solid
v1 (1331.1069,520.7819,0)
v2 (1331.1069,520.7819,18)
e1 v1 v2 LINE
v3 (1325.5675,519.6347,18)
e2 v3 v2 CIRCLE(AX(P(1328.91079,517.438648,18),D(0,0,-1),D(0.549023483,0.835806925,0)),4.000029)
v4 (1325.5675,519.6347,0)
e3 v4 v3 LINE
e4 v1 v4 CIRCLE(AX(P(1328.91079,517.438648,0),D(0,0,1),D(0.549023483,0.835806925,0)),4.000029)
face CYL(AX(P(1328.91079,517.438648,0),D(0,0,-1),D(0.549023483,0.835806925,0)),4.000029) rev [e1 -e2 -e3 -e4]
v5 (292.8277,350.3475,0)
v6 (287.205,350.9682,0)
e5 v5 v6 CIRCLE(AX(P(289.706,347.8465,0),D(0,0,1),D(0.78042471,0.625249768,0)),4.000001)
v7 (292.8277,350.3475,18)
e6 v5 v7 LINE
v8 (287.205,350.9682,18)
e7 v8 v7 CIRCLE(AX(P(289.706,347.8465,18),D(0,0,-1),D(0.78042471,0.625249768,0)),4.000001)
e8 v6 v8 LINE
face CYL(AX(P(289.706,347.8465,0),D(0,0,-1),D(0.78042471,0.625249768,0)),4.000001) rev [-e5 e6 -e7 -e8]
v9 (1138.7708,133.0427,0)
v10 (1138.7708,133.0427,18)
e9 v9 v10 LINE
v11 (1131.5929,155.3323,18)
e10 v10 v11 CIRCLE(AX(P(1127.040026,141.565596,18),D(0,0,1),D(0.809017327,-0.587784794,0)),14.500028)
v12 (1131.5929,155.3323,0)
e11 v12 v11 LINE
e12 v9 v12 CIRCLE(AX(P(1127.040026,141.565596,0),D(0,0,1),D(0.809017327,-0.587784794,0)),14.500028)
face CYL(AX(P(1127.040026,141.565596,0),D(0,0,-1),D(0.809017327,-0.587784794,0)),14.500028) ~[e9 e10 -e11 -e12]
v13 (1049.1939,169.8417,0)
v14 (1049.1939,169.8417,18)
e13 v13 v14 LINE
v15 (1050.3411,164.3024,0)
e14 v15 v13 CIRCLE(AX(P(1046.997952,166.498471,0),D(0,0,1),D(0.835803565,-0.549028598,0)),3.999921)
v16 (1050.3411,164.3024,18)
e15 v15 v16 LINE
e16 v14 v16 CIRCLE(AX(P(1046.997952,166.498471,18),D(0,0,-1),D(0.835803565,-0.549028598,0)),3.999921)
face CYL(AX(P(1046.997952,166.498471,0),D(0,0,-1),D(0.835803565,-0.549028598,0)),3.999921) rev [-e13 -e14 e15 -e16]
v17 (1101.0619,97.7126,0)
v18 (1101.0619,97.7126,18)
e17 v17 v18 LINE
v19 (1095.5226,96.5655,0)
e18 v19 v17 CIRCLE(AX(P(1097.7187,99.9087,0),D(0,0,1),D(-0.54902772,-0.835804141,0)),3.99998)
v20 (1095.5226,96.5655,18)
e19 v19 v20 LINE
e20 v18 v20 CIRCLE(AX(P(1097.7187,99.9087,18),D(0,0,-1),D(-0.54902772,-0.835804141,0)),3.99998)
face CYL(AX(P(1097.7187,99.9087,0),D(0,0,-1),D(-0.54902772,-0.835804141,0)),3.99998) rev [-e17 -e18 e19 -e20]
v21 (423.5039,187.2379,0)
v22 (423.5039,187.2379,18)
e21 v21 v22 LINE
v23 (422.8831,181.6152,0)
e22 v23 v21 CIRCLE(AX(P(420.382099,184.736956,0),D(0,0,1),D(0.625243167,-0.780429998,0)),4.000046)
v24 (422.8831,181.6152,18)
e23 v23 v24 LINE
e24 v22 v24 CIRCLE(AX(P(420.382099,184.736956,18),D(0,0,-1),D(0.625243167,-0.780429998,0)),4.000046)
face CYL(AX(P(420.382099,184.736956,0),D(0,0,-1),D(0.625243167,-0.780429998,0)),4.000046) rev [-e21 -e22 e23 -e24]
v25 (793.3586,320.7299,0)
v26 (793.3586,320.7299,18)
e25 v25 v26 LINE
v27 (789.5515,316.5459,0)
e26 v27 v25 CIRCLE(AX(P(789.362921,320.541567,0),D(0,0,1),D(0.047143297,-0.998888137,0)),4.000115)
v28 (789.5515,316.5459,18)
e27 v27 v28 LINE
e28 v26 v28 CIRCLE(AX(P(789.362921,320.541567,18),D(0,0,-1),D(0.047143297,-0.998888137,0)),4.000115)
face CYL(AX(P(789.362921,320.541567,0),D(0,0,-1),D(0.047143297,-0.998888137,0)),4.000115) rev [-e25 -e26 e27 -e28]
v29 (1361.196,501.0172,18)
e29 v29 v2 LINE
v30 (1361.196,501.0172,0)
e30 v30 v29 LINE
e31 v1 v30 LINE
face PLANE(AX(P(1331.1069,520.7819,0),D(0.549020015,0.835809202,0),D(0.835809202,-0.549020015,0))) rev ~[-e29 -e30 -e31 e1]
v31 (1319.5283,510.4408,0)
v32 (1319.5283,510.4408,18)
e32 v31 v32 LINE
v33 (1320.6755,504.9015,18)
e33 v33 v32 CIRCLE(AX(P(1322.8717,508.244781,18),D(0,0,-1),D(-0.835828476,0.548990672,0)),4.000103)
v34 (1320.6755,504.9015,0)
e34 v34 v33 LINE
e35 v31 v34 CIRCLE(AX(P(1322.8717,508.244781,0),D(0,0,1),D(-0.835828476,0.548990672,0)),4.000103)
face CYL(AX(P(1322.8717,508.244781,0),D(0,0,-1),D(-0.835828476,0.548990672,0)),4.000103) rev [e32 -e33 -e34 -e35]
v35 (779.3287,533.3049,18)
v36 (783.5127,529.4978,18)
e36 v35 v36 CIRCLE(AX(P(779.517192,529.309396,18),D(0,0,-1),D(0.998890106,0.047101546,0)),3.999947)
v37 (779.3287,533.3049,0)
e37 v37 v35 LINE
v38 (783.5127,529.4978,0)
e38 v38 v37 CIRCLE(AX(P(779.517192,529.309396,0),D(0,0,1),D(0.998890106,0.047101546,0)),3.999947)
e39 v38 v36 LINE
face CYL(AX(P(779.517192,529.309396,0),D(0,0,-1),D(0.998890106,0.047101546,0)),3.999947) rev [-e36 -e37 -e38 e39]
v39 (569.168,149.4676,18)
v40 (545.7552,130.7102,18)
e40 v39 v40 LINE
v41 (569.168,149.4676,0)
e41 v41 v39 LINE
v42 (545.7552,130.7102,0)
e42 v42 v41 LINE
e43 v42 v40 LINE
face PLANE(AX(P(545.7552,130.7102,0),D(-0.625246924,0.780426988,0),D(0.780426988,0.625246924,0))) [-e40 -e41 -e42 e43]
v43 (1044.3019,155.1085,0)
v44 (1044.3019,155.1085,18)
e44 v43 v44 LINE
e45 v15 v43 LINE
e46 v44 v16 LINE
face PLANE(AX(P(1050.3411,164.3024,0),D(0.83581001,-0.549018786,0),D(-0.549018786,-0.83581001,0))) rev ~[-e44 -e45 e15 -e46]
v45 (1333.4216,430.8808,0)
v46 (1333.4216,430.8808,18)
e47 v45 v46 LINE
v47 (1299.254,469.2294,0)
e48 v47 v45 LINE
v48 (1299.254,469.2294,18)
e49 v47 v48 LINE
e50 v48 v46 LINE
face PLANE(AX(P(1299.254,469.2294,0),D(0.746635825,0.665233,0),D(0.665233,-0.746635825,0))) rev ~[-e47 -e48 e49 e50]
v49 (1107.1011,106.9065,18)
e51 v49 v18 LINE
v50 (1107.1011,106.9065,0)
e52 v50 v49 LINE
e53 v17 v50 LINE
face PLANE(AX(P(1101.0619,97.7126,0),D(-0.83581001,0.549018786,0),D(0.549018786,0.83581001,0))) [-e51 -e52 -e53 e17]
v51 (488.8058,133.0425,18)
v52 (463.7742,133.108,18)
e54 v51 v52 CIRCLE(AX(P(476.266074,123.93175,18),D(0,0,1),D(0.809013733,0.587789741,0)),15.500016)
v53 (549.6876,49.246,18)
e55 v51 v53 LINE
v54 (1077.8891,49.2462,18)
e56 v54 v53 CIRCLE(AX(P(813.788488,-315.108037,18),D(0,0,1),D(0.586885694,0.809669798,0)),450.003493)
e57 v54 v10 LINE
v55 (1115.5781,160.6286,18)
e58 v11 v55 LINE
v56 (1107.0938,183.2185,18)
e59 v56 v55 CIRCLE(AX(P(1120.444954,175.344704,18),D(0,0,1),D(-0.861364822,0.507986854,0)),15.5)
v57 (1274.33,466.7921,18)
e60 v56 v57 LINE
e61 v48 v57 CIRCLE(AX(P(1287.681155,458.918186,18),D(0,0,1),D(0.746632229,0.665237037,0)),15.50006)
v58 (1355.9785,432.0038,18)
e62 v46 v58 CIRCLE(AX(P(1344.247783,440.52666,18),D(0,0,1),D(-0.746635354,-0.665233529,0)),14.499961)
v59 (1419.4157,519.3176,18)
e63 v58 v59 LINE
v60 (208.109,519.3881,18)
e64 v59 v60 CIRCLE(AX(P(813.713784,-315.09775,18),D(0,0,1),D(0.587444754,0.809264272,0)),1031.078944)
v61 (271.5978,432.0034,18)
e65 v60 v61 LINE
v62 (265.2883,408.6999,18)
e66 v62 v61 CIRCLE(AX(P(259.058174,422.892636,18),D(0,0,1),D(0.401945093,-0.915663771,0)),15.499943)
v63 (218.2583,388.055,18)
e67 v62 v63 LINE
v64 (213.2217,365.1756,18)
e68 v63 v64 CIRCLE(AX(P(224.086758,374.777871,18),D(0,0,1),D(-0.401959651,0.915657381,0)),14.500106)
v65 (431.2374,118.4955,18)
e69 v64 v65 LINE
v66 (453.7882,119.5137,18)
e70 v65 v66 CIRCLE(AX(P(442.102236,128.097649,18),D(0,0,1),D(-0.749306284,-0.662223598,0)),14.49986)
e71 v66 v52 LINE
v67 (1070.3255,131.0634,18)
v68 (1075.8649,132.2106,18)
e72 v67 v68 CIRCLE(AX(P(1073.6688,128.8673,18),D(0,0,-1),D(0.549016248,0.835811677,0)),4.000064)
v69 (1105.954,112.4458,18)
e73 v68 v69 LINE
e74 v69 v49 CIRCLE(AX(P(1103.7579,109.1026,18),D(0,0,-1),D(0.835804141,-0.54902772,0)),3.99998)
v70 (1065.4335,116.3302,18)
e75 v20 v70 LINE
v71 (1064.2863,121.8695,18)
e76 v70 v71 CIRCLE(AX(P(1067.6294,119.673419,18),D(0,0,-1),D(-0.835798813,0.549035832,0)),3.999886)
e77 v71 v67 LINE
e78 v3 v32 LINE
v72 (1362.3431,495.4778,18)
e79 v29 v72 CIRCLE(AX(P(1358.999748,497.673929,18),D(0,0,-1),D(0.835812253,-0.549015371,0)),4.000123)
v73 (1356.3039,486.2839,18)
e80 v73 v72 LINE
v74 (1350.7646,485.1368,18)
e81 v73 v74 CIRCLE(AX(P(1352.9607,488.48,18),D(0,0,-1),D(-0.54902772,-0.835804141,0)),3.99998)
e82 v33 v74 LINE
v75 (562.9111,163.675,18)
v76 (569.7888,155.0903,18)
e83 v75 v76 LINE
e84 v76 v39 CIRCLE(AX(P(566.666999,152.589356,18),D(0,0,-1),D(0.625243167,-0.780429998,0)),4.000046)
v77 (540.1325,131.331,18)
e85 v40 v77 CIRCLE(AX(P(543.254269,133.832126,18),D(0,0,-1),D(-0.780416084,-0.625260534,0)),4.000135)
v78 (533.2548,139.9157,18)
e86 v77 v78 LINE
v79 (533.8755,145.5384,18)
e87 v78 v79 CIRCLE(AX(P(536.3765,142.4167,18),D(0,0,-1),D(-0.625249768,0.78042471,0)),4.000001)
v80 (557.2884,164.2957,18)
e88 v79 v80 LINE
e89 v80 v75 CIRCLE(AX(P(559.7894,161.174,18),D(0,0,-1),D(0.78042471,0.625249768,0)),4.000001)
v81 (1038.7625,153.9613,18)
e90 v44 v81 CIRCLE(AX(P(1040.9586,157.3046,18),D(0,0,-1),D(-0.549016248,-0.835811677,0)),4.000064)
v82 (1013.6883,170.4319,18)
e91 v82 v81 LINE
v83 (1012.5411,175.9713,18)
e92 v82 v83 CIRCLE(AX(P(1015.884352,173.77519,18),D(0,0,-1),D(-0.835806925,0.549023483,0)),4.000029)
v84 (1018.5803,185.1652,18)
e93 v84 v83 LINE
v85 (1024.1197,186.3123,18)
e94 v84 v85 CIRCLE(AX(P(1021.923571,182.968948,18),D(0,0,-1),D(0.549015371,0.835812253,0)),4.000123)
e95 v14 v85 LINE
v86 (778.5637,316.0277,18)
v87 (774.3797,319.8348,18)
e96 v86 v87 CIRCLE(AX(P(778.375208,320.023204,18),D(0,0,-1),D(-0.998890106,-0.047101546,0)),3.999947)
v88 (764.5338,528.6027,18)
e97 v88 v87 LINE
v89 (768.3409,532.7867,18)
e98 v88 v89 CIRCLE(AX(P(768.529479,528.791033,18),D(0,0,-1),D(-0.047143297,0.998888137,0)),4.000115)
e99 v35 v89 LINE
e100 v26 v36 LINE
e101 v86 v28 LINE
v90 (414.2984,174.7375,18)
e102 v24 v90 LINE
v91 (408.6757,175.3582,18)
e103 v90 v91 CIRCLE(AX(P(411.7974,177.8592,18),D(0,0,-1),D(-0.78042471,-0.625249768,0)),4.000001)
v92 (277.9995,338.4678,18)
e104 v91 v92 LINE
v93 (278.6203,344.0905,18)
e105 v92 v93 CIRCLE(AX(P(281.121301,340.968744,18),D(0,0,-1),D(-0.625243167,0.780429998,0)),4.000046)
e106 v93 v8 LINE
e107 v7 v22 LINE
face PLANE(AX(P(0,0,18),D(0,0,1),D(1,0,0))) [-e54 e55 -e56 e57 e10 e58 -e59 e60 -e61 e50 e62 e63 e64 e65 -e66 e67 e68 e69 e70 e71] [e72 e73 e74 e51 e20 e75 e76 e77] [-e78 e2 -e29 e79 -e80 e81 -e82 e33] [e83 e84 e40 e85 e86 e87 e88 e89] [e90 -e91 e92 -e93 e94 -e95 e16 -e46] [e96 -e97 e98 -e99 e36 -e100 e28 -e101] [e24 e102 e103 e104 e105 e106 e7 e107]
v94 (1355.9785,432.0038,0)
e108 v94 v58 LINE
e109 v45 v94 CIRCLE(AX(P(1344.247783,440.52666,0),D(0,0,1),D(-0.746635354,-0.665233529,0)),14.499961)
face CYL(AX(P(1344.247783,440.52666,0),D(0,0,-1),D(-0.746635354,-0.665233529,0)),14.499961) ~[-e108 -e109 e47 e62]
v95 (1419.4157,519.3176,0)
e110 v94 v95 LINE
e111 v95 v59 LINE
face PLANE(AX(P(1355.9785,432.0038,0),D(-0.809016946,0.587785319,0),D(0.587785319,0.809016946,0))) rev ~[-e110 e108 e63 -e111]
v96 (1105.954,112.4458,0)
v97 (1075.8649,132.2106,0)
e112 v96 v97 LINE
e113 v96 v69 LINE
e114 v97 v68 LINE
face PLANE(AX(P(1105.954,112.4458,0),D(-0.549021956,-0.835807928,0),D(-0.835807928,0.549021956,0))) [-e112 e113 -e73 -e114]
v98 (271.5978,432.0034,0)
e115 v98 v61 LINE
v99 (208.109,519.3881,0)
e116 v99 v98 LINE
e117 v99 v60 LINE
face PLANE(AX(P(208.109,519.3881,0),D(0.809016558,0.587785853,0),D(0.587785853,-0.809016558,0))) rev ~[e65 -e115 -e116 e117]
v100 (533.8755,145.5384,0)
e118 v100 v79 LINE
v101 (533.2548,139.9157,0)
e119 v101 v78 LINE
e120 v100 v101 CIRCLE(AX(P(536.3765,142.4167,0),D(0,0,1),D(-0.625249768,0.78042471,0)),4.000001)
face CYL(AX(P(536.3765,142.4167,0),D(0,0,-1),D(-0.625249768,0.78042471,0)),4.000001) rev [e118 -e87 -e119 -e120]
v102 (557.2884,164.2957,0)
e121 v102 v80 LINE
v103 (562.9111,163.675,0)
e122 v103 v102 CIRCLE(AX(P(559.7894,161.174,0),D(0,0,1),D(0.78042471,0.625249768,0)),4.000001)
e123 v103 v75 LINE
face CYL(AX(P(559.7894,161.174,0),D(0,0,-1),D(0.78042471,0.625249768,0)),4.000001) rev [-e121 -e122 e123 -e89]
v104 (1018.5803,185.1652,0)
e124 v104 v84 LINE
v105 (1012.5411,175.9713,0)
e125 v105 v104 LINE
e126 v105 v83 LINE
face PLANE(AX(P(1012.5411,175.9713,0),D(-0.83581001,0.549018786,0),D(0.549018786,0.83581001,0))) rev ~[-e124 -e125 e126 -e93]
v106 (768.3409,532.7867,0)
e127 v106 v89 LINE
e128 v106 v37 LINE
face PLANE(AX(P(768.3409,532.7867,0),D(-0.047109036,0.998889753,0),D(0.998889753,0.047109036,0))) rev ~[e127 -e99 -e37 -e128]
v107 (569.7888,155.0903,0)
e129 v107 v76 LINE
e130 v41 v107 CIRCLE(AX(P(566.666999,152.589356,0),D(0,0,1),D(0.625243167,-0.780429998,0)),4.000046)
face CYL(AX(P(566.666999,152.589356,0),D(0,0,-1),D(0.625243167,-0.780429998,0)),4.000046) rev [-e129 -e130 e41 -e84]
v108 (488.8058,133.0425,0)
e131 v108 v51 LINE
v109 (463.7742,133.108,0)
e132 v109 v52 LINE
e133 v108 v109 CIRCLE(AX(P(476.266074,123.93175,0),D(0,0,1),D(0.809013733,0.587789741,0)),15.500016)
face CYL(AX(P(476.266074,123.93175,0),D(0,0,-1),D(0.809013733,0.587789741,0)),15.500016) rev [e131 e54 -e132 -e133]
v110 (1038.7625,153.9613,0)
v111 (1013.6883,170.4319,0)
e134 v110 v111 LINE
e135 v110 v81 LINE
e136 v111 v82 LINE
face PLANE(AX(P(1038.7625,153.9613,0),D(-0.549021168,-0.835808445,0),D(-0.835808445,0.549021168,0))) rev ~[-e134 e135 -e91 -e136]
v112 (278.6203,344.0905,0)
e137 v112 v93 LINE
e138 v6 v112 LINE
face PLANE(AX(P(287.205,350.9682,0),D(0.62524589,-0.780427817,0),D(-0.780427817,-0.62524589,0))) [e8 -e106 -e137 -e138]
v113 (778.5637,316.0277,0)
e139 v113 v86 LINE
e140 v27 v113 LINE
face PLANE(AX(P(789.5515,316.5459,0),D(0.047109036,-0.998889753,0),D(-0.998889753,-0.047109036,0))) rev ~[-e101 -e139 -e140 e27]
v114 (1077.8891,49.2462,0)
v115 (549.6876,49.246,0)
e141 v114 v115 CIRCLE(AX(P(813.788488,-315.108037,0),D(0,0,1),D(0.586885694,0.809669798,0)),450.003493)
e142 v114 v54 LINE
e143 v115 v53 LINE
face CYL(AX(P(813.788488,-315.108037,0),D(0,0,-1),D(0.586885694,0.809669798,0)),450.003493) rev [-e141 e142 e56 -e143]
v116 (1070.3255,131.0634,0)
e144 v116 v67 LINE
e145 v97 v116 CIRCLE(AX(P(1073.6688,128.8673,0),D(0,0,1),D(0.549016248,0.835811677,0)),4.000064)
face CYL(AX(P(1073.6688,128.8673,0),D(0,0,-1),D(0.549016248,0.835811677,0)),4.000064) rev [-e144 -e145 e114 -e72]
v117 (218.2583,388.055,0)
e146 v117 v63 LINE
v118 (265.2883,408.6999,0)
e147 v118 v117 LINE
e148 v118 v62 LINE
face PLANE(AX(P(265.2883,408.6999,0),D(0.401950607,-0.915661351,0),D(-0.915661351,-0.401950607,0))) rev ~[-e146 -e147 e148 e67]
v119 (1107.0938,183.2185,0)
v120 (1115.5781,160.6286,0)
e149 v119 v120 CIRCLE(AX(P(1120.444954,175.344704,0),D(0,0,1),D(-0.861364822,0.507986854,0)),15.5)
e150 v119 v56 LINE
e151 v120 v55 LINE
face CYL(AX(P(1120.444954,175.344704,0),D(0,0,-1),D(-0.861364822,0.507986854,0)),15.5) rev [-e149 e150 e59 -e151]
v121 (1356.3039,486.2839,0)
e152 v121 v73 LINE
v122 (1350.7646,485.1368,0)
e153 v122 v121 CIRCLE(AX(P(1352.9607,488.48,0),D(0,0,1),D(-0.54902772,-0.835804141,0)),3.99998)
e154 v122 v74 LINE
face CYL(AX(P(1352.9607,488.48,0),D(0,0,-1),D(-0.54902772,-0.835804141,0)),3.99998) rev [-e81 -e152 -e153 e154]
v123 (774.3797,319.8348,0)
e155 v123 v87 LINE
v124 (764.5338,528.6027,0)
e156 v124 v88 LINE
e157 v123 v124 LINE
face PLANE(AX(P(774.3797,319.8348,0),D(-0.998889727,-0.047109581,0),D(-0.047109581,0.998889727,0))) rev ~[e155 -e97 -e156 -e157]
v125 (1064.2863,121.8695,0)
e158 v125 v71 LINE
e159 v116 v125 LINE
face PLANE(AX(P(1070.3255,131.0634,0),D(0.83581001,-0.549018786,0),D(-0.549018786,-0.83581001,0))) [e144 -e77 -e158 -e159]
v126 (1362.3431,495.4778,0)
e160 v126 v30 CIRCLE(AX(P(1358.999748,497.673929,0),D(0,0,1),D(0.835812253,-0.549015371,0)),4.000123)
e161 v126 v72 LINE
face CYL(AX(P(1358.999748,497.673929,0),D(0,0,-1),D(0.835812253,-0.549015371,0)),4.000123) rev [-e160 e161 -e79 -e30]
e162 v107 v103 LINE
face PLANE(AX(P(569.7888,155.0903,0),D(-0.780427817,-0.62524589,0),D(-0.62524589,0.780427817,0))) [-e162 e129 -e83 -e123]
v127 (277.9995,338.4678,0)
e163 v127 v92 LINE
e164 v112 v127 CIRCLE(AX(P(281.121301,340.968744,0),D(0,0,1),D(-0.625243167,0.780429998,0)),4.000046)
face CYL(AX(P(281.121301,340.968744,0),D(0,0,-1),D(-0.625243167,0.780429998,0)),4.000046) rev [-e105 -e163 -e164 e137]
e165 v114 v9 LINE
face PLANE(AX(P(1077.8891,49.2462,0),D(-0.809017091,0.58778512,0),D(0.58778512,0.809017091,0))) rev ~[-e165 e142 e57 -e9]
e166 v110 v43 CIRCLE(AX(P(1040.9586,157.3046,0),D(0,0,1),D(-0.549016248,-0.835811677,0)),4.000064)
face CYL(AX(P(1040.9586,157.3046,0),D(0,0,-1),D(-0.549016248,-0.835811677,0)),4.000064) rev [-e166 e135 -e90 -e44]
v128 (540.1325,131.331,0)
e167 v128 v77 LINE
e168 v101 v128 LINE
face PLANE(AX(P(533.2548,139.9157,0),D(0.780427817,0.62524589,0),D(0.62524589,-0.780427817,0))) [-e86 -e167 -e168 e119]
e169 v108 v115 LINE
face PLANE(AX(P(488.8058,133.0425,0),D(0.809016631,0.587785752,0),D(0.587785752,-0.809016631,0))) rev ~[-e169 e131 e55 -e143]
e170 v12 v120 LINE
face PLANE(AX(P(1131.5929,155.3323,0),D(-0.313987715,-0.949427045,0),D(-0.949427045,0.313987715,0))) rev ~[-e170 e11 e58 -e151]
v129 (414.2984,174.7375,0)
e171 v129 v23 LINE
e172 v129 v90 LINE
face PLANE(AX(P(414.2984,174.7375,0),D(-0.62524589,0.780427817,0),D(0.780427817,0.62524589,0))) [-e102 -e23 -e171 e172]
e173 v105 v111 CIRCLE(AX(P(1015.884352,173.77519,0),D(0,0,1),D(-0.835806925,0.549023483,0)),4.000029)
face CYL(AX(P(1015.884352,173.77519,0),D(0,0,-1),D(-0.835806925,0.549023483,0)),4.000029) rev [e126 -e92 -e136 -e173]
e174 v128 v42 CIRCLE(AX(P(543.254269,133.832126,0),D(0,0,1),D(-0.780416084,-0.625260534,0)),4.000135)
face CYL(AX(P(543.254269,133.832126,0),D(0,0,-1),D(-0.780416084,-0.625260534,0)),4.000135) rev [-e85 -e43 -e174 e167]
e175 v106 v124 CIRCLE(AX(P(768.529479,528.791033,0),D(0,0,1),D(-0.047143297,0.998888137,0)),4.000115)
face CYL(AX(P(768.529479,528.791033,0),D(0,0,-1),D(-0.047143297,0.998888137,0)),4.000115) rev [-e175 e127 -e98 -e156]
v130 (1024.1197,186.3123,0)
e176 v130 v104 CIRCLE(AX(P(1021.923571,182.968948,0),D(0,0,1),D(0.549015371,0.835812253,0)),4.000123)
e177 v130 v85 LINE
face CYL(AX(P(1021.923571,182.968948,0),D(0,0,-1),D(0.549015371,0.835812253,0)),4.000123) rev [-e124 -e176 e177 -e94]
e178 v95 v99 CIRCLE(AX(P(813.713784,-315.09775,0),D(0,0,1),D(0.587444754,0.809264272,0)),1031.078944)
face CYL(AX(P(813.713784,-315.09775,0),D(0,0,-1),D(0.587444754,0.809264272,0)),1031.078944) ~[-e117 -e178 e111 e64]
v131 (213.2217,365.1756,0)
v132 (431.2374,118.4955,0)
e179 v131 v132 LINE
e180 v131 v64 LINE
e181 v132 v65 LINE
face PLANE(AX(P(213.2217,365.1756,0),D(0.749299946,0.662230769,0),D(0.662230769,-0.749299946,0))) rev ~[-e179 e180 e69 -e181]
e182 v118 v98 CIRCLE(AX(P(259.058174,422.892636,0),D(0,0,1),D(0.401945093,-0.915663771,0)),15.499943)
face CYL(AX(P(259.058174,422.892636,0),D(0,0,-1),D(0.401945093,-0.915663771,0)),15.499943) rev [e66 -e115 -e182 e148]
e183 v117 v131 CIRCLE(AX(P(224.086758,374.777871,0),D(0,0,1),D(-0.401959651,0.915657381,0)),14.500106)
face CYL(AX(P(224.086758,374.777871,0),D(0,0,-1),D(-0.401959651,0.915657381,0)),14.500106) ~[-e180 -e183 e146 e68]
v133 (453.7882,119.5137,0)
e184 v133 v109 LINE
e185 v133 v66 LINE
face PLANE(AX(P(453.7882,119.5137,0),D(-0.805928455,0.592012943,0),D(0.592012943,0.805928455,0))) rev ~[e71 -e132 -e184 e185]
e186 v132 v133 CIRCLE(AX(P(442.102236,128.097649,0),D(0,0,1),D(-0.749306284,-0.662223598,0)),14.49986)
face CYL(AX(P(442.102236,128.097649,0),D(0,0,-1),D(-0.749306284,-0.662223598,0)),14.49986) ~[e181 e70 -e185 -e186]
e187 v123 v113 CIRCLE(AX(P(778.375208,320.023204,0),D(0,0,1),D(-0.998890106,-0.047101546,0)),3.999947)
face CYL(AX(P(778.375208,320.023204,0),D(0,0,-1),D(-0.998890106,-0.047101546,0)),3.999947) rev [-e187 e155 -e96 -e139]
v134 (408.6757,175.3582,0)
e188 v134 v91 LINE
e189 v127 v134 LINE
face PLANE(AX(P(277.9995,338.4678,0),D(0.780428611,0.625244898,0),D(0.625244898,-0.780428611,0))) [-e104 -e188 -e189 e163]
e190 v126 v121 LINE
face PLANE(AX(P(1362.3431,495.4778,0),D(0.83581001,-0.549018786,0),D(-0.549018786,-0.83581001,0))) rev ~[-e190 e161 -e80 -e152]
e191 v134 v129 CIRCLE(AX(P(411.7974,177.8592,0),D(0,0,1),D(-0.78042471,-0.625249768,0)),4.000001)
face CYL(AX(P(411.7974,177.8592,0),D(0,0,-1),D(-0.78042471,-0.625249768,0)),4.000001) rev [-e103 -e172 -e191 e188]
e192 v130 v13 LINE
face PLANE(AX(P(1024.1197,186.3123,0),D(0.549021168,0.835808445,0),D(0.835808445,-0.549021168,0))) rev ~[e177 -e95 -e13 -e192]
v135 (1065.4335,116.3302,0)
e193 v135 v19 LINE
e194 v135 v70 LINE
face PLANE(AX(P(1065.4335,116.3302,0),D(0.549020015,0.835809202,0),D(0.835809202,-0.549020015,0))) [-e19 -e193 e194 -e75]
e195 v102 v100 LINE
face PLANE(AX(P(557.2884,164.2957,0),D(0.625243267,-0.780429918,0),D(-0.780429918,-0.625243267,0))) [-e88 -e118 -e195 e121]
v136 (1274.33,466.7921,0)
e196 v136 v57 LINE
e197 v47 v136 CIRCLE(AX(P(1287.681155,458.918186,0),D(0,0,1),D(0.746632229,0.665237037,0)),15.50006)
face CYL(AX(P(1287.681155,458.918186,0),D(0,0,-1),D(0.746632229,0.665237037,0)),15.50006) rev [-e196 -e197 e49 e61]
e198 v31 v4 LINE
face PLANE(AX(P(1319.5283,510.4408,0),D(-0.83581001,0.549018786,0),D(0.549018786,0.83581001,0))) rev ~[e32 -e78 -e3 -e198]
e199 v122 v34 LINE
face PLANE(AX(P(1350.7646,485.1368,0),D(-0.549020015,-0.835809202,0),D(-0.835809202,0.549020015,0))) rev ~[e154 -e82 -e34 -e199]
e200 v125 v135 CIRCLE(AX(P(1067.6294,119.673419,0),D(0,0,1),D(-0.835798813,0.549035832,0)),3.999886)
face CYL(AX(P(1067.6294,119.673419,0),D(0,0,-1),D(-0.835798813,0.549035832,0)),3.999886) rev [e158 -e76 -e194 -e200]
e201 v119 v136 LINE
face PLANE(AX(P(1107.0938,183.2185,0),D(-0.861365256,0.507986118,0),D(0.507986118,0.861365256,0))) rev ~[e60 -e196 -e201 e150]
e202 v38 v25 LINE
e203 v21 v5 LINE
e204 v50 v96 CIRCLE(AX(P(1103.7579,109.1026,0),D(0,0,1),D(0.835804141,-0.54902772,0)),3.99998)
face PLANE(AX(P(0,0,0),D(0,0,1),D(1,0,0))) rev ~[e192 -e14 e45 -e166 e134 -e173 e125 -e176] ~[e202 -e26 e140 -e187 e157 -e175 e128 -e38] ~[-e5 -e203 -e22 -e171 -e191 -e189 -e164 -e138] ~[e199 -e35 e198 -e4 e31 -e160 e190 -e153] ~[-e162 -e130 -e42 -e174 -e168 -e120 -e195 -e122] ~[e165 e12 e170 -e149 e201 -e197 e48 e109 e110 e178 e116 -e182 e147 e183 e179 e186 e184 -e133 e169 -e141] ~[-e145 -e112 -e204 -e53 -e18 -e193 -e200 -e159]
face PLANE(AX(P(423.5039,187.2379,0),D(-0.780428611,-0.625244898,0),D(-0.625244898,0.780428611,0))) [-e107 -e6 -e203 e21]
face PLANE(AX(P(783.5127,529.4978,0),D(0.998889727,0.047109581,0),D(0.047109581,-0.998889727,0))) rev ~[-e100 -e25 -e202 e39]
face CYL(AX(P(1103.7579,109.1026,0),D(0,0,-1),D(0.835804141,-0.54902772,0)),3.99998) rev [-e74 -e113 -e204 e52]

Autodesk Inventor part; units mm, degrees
ref_plane "YZ Plane" through (0, 0, 0) normal (1, 0, 0) x (0, 1, 0)
ref_plane "XZ Plane" through (0, 0, 0) normal (0, 1, 0) x (-1, 0, 0)
ref_plane "XY Plane" through (0, 0, 0) normal (0, 0, 1) x (1, 0, 0)
sketch "Sketch1" plane through (0, 0, 0) normal (0, 0, 1) x (1, 0, 0)
  point P0 (0, 0)
sketch "CONTOURS" plane through (0, 0, 0) normal (0, 0, 1) x (1, 0, 0)
  arc A0 (1138.7708, 133.0427) -> (1131.5929, 155.3323) centre (1127.04, 141.5656) ccw
  line L0 (1131.5929, 155.3323) -> (1115.5781, 160.6286)
  arc A1 (1107.0938, 183.2185) -> (1115.5781, 160.6286) centre (1120.445, 175.3447) ccw
  line L1 (1107.0938, 183.2185) -> (1274.33, 466.7921)
  arc A2 (1299.254, 469.2294) -> (1274.33, 466.7921) centre (1287.6812, 458.9183) ccw
  line L2 (1299.254, 469.2294) -> (1333.4216, 430.8808)
  arc A3 (1333.4216, 430.8808) -> (1355.9785, 432.0038) centre (1344.2478, 440.5267) ccw
  line L3 (1355.9785, 432.0038) -> (1419.4157, 519.3176)
  arc A4 (1419.4157, 519.3176) -> (208.109, 519.3881) centre (813.7138, -315.0977) ccw
  line L4 (208.109, 519.3881) -> (271.5978, 432.0034)
  arc A5 (265.2883, 408.6999) -> (271.5978, 432.0034) centre (259.0581, 422.8927) ccw
  line L5 (265.2883, 408.6999) -> (218.2583, 388.055)
  arc A6 (218.2583, 388.055) -> (213.2217, 365.1756) centre (224.0866, 374.778) ccw
  line L6 (213.2217, 365.1756) -> (431.2374, 118.4955)
  arc A7 (431.2374, 118.4955) -> (453.7882, 119.5137) centre (442.1023, 128.0978) ccw
  line L7 (453.7882, 119.5137) -> (463.7742, 133.108)
  arc A8 (488.8058, 133.0425) -> (463.7742, 133.108) centre (476.2661, 123.9318) ccw
  line L8 (488.8058, 133.0425) -> (549.6876, 49.246)
  arc A9 (1077.8891, 49.2462) -> (549.6876, 49.246) centre (813.7885, -315.108) ccw
  line L9 (1077.8891, 49.2462) -> (1138.7708, 133.0427)
sketch "HOLES" plane through (0, 0, 0) normal (0, 0, 1) x (1, 0, 0)
  line L0 (287.205, 350.9682) -> (278.6203, 344.0905)
  arc A0 (278.6203, 344.0905) -> (277.9995, 338.4678) centre (281.1212, 340.9688) ccw
  line L1 (277.9995, 338.4678) -> (408.6757, 175.3582)
  arc A1 (408.6757, 175.3582) -> (414.2984, 174.7375) centre (411.7974, 177.8592) ccw
  line L2 (414.2984, 174.7375) -> (422.8831, 181.6152)
  arc A2 (422.8831, 181.6152) -> (423.5039, 187.2379) centre (420.3822, 184.7369) ccw
  line L3 (423.5039, 187.2379) -> (292.8277, 350.3475)
  arc A3 (292.8277, 350.3475) -> (287.205, 350.9682) centre (289.706, 347.8465) ccw
  arc A4 (783.5127, 529.4978) -> (779.3287, 533.3049) centre (779.5172, 529.3094) ccw
  line L4 (783.5127, 529.4978) -> (793.3586, 320.7299)
  arc A5 (789.5515, 316.5459) -> (793.3586, 320.7299) centre (789.363, 320.5414) ccw
  line L5 (789.5515, 316.5459) -> (778.5637, 316.0277)
  arc A6 (774.3797, 319.8348) -> (778.5637, 316.0277) centre (778.3752, 320.0232) ccw
  line L6 (774.3797, 319.8348) -> (764.5338, 528.6027)
  arc A7 (768.3409, 532.7867) -> (764.5338, 528.6027) centre (768.5294, 528.7912) ccw
  line L7 (768.3409, 532.7867) -> (779.3287, 533.3049)
  line L8 (569.7888, 155.0903) -> (562.9111, 163.675)
  arc A8 (562.9111, 163.675) -> (557.2884, 164.2957) centre (559.7894, 161.174) ccw
  line L9 (557.2884, 164.2957) -> (533.8755, 145.5384)
  arc A9 (533.8755, 145.5384) -> (533.2548, 139.9157) centre (536.3765, 142.4167) ccw
  line L10 (533.2548, 139.9157) -> (540.1325, 131.331)
  arc A10 (540.1325, 131.331) -> (545.7552, 130.7102) centre (543.2542, 133.832) ccw
  line L11 (545.7552, 130.7102) -> (569.168, 149.4676)
  arc A11 (569.168, 149.4676) -> (569.7888, 155.0903) centre (566.6671, 152.5893) ccw
  line L12 (1012.5411, 175.9713) -> (1018.5803, 185.1652)
  arc A12 (1024.1197, 186.3123) -> (1018.5803, 185.1652) centre (1021.9236, 182.9691) ccw
  line L13 (1024.1197, 186.3123) -> (1049.1939, 169.8417)
  arc A13 (1050.3411, 164.3024) -> (1049.1939, 169.8417) centre (1046.9978, 166.4985) ccw
  line L14 (1059.1699, 932.849) -> (1052.9484, 923.7775)
  arc A14 (1047.3873, 922.7411) -> (1052.9484, 923.7775) centre (1049.6497, 926.0399) ccw
  line L15 (1047.3873, 922.7411) -> (1017.6987, 943.1026)
  arc A15 (1016.6623, 948.6637) -> (1017.6987, 943.1026) centre (1019.9611, 946.4013) ccw
  line L16 (1016.6623, 948.6637) -> (1022.8839, 957.7352)
  arc A16 (1028.445, 958.7715) -> (1022.8839, 957.7352) centre (1026.1826, 955.4728) ccw
  line L17 (1028.445, 958.7715) -> (1058.1336, 938.4101)
  arc A17 (1059.1699, 932.849) -> (1058.1336, 938.4101) centre (1055.8712, 935.1114) ccw
  arc A18 (2370.6146, 1037.7855) -> (2376.2246, 1037.059) centre (2373.7829, 1040.2273) ccw
  line L18 (2370.6146, 1037.7855) -> (2296.1408, 1134.417)
  arc A19 (2296.8672, 1140.027) -> (2296.1408, 1134.417) centre (2299.309, 1136.8588) ccw
  line L19 (2296.8672, 1140.027) -> (2305.5799, 1146.7419)
  arc A20 (2311.1899, 1146.0154) -> (2305.5799, 1146.7419) centre (2308.0217, 1143.5736) ccw
  line L20 (2311.1899, 1146.0154) -> (2385.6638, 1049.3839)
  arc A21 (2384.9373, 1043.7739) -> (2385.6638, 1049.3839) centre (2382.4955, 1046.9421) ccw
  line L21 (2384.9373, 1043.7739) -> (2376.2246, 1037.059)
  line L22 (1175.8209, 1180.7295) -> (1169.5993, 1171.658)
  arc A22 (1169.5993, 1171.658) -> (1170.6357, 1166.0969) centre (1172.898, 1169.3956) ccw
  line L23 (1170.6357, 1166.0969) -> (1200.3242, 1145.7355)
  arc A23 (1200.3242, 1145.7355) -> (1205.8854, 1146.7718) centre (1202.5866, 1149.0342) ccw
  line L24 (1205.8854, 1146.7718) -> (1212.1069, 1155.8433)
  arc A24 (1212.1069, 1155.8433) -> (1211.0706, 1161.4044) centre (1208.8082, 1158.1057) ccw
  line L25 (1211.0706, 1161.4044) -> (1181.382, 1181.7659)
  arc A25 (1181.382, 1181.7659) -> (1175.8209, 1180.7295) centre (1179.1196, 1178.4671) ccw
  line L26 (1050.3411, 164.3024) -> (1044.3019, 155.1085)
  arc A26 (1038.7625, 153.9613) -> (1044.3019, 155.1085) centre (1040.9586, 157.3046) ccw
  line L27 (1038.7625, 153.9613) -> (1013.6883, 170.4319)
  arc A27 (1012.5411, 175.9713) -> (1013.6883, 170.4319) centre (1015.8843, 173.7752) ccw
  line L28 (1101.0619, 97.7126) -> (1107.1011, 106.9065)
  arc A28 (1107.1011, 106.9065) -> (1105.954, 112.4458) centre (1103.7579, 109.1026) ccw
  line L29 (1105.954, 112.4458) -> (1075.8649, 132.2106)
  arc A29 (1075.8649, 132.2106) -> (1070.3255, 131.0634) centre (1073.6688, 128.8673) ccw
  line L30 (1070.3255, 131.0634) -> (1064.2863, 121.8695)
  arc A30 (1064.2863, 121.8695) -> (1065.4335, 116.3302) centre (1067.6295, 119.6734) ccw
  line L31 (1065.4335, 116.3302) -> (1095.5226, 96.5655)
  arc A31 (1095.5226, 96.5655) -> (1101.0619, 97.7126) centre (1097.7187, 99.9087) ccw
  line L32 (1362.3431, 495.4778) -> (1356.3039, 486.2839)
  arc A32 (1350.7646, 485.1368) -> (1356.3039, 486.2839) centre (1352.9607, 488.48) ccw
  line L33 (1350.7646, 485.1368) -> (1320.6755, 504.9015)
  arc A33 (1319.5283, 510.4408) -> (1320.6755, 504.9015) centre (1322.8716, 508.2448) ccw
  line L34 (1319.5283, 510.4408) -> (1325.5675, 519.6347)
  arc A34 (1331.1069, 520.7819) -> (1325.5675, 519.6347) centre (1328.9108, 517.4387) ccw
  line L35 (1331.1069, 520.7819) -> (1361.196, 501.0172)
  arc A35 (1362.3431, 495.4778) -> (1361.196, 501.0172) centre (1358.9999, 497.6739) ccw
  line L36 (1264.9795, 244.1751) -> (1271.0187, 253.369)
  arc A36 (1276.558, 254.5161) -> (1271.0187, 253.369) centre (1274.3619, 251.1729) ccw
  line L37 (1276.558, 254.5161) -> (1306.6471, 234.7514)
  arc A37 (1307.7943, 229.2121) -> (1306.6471, 234.7514) centre (1304.451, 231.4082) ccw
  line L38 (1307.7943, 229.2121) -> (1301.7551, 220.0182)
  arc A38 (1296.2157, 218.871) -> (1301.7551, 220.0182) centre (1298.4118, 222.2143) ccw
  line L39 (1296.2157, 218.871) -> (1266.1266, 238.6358)
  arc A39 (1264.9795, 244.1751) -> (1266.1266, 238.6358) centre (1268.3227, 241.979) ccw
  line L40 (1526.2607, 641.9403) -> (1520.2215, 632.7464)
  arc A40 (1520.2215, 632.7464) -> (1521.3686, 627.2071) centre (1523.5647, 630.5503) ccw
  line L41 (1521.3686, 627.2071) -> (1551.4577, 607.4424)
  arc A41 (1551.4577, 607.4424) -> (1556.9971, 608.5895) centre (1553.6538, 610.7856) ccw
  line L42 (1556.9971, 608.5895) -> (1563.0363, 617.7834)
  arc A42 (1563.0363, 617.7834) -> (1561.8891, 623.3227) centre (1559.6931, 619.9795) ccw
  line L43 (1561.8891, 623.3227) -> (1531.8, 643.0875)
  arc A43 (1531.8, 643.0875) -> (1526.2607, 641.9403) centre (1529.6039, 639.7442) ccw
sketch "LETTERS" plane through (0, 0, 0) normal (0, 0, 1) x (1, 0, 0)
  arc A0 (1107.5534, 367.1718) -> (1103.7785, 359.006) centre (1105.6754, 363.0845) ccw
  line L0 (1107.5534, 367.1718) -> (1115.5892, 363.4795)
  arc A1 (1112.0249, 376.8584) -> (1107.5534, 367.1718) centre (1109.7806, 372.0191) ccw
  line L1 (1120.1257, 373.1016) -> (1112.0249, 376.8584)
  line L2 (1111.8629, 355.2459) -> (1120.1257, 373.1016)
  line L3 (1103.7785, 359.006) -> (1111.8629, 355.2459)
extrude "Extrusion2" add sketch "CONTOURS" along normal blind 18
extrude "Extrusion3" cut sketch "HOLES" along normal through all contours A3 L3 A2 L2 A1 L1 A0 L0 | L4 A5 L5 A6 L6 A7 L7 A4 | A11 L11 A10 L10 A9 L9 A8 L8 | L12 A12 L13 A13 L26 A26 L27 A27 | A31 L31 A30 L30 A29 L29 A28 L28 | L32 A32 L33 A33 L34 A34 L35 A35
properties part number "Platform B3" material "Wood (Birch)"
